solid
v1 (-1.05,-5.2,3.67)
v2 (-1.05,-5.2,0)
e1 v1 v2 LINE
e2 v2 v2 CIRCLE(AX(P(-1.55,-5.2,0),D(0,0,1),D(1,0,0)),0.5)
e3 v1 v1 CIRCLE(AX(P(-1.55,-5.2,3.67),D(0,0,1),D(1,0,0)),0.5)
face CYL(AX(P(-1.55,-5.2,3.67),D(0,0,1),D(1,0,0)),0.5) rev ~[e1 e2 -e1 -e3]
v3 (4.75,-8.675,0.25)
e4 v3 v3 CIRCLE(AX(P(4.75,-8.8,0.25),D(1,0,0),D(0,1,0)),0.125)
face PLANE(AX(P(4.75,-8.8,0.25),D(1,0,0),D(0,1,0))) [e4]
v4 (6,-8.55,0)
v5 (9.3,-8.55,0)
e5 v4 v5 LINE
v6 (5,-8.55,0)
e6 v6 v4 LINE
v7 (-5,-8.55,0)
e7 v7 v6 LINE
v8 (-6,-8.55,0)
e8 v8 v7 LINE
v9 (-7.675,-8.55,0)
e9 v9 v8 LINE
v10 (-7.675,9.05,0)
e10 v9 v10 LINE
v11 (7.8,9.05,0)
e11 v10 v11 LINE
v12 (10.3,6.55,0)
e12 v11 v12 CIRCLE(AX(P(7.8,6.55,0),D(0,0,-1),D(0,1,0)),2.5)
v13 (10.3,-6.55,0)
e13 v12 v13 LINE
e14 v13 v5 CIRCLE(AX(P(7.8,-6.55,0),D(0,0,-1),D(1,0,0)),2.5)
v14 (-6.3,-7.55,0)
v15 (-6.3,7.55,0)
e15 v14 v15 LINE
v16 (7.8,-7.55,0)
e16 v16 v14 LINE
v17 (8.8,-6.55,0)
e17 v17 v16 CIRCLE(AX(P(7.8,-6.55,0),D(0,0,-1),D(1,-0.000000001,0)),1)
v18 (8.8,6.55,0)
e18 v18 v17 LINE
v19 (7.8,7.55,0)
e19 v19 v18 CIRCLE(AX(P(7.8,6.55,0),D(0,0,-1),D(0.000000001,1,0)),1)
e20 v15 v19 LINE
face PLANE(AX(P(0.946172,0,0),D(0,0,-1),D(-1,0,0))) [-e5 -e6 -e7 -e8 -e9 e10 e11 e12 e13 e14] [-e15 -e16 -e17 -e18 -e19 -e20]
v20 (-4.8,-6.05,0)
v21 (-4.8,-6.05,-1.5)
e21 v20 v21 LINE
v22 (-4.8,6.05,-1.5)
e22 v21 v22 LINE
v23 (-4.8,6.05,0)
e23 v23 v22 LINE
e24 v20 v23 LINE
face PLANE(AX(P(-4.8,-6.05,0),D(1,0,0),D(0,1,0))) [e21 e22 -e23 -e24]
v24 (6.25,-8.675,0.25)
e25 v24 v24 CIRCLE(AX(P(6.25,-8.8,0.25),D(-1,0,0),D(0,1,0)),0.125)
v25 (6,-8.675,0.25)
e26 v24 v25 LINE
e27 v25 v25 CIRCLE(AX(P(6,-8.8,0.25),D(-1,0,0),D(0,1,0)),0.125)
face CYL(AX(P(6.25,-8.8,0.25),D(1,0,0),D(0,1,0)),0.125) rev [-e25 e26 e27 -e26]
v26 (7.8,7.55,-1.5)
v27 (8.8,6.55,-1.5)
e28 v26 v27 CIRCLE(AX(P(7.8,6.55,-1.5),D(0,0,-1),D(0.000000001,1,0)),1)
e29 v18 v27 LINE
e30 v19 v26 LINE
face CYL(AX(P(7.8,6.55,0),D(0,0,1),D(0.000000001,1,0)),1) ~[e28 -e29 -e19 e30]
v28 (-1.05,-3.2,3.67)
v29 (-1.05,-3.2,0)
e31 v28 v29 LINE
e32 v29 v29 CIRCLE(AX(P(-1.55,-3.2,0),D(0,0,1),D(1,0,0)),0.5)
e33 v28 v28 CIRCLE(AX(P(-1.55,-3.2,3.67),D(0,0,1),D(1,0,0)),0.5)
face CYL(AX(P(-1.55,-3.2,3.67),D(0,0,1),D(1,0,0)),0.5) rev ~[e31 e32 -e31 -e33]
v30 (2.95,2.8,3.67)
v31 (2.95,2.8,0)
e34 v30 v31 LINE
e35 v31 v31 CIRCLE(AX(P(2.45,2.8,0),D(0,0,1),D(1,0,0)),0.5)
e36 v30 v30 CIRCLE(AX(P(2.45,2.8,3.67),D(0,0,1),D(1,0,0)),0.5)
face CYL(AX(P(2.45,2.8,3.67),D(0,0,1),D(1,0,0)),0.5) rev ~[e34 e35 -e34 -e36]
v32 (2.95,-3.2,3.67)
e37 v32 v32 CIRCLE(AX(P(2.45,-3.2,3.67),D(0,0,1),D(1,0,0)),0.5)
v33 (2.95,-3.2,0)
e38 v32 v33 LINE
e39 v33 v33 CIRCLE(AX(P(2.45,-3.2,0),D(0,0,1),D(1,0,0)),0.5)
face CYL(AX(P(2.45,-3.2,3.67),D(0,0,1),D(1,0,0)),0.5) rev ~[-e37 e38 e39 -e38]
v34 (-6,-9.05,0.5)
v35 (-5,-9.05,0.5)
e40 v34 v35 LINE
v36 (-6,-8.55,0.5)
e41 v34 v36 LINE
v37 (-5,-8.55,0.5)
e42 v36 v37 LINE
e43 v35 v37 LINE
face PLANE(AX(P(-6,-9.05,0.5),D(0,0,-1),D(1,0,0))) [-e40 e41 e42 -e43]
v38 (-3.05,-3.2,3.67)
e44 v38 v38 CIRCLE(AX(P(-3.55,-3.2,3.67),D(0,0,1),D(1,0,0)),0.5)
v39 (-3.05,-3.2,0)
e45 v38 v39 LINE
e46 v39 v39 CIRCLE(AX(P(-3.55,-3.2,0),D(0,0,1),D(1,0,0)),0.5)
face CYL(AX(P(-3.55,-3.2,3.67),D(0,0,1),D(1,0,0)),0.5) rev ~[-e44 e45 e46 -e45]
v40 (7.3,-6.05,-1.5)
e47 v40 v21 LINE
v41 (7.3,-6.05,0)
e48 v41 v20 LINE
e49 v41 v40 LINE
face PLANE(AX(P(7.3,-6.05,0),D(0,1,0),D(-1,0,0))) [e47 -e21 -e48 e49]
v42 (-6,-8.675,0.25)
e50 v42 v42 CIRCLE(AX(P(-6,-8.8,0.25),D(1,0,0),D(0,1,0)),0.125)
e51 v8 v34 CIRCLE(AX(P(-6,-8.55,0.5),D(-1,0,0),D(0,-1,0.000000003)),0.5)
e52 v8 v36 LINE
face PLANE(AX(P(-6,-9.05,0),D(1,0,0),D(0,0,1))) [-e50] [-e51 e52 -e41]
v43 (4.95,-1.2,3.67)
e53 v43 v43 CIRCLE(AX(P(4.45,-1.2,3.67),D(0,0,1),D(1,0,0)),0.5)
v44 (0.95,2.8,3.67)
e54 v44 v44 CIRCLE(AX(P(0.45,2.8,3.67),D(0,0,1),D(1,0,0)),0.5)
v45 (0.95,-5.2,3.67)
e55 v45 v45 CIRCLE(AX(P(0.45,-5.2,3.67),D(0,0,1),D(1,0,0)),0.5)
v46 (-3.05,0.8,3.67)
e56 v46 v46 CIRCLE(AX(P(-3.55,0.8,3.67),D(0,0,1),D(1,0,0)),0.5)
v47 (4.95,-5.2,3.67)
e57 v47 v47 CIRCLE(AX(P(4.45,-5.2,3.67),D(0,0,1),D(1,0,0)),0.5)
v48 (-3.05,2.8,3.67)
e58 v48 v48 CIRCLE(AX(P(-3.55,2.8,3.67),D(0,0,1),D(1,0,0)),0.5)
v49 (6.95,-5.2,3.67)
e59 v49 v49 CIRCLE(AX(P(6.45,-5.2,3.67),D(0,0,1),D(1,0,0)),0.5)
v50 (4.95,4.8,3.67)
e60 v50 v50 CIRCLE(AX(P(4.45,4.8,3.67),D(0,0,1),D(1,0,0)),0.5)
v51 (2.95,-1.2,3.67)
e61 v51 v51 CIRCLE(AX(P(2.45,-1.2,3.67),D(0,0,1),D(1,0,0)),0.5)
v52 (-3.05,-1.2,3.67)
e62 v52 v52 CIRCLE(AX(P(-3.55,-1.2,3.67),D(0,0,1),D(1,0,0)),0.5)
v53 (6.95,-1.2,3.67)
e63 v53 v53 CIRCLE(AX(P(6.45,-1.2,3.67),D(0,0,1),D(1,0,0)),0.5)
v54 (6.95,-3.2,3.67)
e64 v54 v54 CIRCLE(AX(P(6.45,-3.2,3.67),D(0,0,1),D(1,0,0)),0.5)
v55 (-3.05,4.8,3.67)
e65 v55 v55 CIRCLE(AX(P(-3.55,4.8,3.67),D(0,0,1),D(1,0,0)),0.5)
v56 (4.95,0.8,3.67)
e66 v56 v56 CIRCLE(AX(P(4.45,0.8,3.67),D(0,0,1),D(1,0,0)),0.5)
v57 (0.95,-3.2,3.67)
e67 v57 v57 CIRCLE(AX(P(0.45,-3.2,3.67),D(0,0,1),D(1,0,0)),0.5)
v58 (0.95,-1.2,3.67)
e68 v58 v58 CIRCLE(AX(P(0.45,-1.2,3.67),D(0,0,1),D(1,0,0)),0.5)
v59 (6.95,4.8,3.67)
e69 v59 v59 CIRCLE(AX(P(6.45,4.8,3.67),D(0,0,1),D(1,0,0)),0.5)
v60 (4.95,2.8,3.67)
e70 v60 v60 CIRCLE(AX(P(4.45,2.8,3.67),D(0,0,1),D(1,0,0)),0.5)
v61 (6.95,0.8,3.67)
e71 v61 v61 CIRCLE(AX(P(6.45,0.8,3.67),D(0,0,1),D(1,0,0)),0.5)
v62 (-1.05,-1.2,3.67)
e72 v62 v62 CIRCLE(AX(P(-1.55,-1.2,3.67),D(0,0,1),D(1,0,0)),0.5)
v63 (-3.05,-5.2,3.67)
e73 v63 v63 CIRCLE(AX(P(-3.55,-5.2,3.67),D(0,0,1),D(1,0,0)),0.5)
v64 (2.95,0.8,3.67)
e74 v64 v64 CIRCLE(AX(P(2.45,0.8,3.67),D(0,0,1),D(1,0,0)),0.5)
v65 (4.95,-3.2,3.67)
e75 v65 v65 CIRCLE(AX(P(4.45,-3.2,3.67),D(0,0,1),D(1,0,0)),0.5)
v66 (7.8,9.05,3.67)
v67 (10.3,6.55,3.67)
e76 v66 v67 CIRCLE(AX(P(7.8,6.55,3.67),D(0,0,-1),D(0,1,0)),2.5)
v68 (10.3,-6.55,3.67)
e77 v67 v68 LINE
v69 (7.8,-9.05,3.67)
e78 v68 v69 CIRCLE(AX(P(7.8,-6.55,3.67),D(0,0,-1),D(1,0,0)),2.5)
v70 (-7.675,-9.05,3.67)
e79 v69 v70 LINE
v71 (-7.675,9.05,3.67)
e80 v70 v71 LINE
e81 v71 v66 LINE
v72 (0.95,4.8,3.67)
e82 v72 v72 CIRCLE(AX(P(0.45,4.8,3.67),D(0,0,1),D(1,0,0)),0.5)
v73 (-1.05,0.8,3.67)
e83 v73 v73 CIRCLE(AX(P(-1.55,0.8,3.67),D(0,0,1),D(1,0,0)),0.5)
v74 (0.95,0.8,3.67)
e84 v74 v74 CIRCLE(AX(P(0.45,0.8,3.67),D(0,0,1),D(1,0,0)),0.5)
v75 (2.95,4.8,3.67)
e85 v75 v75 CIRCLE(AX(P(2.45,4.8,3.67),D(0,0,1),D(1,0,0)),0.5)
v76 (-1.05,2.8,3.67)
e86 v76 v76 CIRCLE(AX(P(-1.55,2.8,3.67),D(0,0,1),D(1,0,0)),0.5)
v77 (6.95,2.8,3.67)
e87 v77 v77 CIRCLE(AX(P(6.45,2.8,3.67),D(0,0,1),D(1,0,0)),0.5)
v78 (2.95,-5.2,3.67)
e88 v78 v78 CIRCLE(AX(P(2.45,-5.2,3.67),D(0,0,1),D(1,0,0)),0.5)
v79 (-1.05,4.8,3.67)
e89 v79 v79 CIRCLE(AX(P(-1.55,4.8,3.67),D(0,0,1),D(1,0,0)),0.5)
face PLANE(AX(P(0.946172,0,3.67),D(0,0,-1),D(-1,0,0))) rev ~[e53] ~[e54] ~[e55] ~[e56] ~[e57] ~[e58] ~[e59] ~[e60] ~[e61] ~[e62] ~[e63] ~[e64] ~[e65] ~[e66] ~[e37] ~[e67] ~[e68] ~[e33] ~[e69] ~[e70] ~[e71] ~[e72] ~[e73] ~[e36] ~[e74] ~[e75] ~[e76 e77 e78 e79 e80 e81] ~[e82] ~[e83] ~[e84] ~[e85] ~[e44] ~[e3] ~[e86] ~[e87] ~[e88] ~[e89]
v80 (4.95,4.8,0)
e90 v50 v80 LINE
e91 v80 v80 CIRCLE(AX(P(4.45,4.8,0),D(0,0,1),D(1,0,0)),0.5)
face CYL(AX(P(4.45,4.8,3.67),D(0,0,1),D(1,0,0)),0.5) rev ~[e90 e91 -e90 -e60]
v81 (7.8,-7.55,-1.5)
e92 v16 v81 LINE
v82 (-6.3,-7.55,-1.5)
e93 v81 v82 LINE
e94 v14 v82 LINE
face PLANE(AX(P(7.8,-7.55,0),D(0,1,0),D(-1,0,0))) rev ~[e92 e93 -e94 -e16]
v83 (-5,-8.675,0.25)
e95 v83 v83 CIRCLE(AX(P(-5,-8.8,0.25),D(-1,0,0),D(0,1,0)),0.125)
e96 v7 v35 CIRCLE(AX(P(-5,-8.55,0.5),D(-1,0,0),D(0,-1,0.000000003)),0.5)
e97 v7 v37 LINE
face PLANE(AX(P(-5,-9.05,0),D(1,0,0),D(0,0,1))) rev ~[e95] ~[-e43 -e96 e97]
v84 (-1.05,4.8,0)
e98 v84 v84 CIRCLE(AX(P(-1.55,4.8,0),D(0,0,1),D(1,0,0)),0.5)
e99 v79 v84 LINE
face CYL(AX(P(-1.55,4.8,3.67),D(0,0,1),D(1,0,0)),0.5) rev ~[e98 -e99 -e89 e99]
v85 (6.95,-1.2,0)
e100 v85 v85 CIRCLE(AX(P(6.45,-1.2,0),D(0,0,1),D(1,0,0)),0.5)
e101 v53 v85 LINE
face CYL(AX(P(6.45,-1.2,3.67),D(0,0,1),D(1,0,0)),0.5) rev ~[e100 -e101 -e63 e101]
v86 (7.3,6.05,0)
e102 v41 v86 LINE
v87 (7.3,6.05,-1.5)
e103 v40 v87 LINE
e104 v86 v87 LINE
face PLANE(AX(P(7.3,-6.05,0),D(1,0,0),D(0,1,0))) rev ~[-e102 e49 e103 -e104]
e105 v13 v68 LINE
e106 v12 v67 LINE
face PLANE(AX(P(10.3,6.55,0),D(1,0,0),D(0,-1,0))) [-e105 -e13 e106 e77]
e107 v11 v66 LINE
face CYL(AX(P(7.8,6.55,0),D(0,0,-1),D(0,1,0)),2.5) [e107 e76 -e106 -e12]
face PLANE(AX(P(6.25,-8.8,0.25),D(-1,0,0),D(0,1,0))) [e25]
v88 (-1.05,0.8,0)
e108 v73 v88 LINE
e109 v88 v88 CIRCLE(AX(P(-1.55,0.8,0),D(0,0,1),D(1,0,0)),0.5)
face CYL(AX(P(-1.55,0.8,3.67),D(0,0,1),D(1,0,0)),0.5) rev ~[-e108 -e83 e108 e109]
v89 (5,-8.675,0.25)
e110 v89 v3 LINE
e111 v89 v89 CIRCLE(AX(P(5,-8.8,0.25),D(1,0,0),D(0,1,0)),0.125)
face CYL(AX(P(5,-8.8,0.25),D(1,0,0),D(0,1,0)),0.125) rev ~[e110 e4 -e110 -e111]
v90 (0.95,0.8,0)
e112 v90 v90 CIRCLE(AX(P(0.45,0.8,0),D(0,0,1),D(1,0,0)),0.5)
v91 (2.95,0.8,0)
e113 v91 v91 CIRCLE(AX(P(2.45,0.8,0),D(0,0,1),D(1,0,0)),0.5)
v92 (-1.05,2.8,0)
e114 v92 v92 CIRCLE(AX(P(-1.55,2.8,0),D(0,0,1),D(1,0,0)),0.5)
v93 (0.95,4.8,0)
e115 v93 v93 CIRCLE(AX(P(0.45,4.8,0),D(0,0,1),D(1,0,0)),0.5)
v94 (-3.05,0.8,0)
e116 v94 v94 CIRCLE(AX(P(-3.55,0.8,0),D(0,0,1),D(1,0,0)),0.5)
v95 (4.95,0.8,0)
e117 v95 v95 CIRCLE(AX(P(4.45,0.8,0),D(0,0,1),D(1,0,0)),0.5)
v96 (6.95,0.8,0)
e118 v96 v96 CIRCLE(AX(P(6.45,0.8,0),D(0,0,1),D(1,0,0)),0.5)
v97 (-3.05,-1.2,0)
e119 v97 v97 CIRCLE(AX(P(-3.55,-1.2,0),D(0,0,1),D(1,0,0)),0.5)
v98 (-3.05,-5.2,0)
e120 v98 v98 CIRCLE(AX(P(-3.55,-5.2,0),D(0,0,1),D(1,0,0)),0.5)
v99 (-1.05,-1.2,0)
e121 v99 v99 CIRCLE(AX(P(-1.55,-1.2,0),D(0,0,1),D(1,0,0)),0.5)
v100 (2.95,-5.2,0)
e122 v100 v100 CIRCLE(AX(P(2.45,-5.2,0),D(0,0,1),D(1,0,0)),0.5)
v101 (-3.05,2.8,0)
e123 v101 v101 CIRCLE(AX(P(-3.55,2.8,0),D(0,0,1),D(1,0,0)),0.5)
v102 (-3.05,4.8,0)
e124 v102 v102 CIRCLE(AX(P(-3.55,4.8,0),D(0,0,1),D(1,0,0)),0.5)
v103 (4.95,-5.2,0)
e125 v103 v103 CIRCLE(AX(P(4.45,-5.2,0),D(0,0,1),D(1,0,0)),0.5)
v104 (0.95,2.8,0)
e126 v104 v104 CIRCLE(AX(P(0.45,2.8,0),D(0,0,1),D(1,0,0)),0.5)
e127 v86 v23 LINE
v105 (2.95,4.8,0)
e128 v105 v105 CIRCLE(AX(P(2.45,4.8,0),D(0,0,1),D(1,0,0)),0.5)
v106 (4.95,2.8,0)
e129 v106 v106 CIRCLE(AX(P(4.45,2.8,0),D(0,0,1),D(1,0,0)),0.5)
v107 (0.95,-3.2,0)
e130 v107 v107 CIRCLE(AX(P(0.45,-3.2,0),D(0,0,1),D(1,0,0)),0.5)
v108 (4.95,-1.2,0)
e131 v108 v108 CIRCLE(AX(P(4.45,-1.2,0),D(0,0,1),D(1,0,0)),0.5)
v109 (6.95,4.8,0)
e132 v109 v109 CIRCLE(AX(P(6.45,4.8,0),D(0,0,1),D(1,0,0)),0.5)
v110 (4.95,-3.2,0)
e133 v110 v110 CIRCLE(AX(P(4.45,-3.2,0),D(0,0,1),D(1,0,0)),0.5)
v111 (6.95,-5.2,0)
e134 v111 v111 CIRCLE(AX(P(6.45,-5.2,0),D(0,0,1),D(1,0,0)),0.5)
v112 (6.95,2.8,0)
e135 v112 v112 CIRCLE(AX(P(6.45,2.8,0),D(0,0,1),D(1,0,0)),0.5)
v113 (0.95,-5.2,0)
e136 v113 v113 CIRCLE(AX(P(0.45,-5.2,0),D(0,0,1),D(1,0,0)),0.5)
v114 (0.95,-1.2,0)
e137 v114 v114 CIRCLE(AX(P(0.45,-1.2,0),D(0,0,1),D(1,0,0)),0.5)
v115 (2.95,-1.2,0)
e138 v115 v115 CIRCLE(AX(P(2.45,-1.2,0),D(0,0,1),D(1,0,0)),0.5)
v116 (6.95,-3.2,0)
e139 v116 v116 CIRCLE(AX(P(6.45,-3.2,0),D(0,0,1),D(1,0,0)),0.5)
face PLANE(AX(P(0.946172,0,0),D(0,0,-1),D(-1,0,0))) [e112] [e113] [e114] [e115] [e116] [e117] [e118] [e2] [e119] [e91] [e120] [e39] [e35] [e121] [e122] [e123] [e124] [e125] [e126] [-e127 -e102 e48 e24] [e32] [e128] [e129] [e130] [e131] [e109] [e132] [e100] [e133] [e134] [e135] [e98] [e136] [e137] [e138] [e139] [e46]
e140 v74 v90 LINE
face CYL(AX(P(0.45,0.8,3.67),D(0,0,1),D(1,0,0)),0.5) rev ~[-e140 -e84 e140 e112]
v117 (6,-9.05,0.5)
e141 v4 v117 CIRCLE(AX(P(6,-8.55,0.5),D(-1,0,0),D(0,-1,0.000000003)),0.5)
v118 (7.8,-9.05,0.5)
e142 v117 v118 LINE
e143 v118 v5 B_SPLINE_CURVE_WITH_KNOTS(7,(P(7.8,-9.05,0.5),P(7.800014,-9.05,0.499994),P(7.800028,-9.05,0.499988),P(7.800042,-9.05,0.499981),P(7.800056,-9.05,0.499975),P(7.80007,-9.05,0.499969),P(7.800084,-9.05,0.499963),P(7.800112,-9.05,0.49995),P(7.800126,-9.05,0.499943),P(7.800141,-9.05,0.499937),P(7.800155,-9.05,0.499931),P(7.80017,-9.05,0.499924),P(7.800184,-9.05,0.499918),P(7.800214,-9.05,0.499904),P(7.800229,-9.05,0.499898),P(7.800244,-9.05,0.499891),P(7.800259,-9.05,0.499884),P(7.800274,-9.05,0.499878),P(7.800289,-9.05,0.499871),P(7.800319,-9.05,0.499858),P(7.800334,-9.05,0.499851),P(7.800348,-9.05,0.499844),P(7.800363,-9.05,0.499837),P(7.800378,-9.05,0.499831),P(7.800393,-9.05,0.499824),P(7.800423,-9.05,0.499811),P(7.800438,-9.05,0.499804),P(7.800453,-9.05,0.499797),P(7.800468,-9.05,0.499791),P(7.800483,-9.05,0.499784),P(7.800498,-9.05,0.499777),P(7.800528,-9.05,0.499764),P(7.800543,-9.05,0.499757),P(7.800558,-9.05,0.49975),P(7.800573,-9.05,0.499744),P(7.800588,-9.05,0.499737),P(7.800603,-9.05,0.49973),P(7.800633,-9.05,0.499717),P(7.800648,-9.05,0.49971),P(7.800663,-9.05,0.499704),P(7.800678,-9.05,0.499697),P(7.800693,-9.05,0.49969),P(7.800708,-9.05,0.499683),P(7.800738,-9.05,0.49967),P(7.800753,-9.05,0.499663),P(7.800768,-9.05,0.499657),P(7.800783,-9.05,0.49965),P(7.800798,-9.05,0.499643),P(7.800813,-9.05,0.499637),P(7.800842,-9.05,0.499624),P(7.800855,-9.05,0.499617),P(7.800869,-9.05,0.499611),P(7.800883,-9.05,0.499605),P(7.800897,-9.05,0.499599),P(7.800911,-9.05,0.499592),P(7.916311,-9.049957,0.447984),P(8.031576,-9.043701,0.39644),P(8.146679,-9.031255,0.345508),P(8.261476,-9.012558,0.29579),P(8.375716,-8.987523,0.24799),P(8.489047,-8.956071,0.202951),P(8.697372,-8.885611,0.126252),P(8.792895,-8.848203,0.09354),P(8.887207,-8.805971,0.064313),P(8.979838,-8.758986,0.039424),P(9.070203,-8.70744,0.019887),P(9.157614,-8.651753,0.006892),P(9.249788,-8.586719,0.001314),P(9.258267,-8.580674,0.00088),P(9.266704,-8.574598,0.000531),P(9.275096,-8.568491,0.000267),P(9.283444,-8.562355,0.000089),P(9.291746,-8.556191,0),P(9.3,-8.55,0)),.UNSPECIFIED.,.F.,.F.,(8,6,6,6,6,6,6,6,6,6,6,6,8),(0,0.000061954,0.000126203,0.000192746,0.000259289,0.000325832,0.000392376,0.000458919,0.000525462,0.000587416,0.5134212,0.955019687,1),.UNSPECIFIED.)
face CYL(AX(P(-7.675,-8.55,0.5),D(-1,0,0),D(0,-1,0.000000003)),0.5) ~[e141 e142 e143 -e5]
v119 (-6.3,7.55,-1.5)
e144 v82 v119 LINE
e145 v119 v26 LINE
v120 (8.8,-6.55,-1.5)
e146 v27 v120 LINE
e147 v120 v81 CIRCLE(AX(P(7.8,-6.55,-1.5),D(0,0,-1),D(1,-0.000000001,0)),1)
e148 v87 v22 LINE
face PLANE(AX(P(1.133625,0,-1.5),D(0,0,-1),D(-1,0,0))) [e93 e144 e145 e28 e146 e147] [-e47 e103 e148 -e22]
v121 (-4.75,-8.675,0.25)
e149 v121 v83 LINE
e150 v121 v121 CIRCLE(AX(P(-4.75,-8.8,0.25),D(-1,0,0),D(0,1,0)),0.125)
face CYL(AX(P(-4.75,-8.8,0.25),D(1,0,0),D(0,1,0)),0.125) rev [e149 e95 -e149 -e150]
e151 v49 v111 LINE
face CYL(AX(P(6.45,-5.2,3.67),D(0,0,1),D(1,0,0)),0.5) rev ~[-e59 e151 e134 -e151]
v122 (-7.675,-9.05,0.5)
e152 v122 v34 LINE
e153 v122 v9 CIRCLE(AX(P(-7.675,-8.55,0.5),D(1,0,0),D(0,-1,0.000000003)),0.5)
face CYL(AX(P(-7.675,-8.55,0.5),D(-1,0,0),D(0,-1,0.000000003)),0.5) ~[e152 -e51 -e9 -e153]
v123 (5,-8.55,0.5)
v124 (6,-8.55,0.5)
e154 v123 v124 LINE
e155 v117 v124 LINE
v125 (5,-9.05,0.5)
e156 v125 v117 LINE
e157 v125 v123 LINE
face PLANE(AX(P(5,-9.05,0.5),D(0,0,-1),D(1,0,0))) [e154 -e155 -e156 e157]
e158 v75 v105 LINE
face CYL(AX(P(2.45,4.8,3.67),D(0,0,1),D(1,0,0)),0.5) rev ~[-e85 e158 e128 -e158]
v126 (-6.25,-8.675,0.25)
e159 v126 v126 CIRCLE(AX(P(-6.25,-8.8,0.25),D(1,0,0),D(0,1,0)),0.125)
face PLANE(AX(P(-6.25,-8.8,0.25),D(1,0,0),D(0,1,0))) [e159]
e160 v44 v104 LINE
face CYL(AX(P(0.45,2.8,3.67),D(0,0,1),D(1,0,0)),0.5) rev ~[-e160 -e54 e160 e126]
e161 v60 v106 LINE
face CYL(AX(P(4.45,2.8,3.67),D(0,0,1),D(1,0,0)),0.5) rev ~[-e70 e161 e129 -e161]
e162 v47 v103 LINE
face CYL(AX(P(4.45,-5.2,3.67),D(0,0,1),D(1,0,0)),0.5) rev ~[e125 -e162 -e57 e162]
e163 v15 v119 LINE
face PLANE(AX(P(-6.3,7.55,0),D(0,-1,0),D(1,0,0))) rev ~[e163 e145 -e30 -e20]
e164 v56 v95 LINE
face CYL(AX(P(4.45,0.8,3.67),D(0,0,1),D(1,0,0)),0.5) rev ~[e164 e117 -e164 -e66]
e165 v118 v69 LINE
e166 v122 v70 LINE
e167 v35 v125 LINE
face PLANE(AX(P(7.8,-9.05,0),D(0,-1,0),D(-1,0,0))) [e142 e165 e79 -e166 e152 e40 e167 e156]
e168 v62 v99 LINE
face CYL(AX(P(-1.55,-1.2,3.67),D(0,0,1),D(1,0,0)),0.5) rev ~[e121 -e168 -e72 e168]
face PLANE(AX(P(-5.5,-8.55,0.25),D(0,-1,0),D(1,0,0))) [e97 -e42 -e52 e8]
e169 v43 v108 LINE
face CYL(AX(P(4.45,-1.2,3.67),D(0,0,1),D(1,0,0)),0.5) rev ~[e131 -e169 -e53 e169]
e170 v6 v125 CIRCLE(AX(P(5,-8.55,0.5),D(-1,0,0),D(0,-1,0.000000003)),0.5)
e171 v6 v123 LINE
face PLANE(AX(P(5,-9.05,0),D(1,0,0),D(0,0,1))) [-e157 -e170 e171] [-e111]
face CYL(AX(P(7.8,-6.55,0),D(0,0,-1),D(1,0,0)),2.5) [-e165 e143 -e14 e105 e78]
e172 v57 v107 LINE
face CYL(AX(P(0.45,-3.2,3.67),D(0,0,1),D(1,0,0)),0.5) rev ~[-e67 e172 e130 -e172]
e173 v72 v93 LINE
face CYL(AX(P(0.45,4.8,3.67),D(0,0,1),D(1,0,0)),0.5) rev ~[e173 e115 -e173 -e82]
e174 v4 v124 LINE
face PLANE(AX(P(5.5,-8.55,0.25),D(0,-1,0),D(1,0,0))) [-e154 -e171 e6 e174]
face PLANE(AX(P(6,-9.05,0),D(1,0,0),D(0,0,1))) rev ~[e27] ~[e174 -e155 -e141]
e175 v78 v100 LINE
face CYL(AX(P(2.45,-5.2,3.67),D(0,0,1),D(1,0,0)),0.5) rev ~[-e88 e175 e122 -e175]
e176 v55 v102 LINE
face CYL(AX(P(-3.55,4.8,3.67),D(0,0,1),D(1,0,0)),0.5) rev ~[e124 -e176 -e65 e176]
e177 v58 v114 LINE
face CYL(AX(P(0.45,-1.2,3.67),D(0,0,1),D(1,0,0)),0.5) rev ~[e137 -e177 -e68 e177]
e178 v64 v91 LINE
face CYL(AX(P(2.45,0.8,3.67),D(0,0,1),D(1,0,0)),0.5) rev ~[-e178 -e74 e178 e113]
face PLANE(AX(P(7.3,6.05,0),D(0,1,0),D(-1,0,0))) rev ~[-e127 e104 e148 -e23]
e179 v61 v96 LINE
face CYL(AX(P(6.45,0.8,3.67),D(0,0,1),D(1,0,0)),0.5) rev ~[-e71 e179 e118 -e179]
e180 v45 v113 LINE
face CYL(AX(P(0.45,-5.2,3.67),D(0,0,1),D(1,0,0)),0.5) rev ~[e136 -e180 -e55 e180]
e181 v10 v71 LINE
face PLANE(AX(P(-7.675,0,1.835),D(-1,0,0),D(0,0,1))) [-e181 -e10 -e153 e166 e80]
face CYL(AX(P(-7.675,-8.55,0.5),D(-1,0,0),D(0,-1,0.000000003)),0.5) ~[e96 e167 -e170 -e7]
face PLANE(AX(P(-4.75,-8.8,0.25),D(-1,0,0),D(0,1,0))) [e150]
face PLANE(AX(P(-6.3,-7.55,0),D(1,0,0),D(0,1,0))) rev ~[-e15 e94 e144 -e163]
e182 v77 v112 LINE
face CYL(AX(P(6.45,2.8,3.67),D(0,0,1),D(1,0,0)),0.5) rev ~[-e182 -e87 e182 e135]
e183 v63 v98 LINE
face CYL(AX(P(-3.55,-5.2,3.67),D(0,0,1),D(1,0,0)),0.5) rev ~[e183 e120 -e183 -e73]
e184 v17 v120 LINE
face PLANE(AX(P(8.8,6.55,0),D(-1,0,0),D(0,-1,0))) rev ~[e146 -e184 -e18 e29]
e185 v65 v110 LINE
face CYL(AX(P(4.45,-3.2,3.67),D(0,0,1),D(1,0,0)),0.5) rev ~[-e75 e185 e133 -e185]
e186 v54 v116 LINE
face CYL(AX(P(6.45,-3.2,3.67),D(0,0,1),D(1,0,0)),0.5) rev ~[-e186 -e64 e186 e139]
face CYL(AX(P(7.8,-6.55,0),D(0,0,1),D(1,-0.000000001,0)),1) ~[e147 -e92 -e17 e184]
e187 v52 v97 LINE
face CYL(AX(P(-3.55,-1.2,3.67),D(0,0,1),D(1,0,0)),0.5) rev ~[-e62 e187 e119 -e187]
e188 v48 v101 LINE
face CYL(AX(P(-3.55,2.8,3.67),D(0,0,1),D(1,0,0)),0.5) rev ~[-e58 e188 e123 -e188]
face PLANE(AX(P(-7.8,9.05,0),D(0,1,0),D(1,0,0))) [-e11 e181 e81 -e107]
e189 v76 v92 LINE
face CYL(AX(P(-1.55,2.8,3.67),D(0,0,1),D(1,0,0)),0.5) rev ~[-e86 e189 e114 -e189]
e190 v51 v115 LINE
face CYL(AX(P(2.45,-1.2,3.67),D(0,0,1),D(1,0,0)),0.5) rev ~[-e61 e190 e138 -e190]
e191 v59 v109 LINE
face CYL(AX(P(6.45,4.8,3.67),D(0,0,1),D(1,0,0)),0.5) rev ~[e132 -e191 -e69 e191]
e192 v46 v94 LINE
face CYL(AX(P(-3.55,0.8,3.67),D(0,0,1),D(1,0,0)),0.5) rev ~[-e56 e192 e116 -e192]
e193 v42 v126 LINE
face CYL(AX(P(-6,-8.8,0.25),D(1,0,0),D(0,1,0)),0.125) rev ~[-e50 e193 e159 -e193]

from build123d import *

# Parameters (mm, degrees)
BOSS_EXTRUDE1_DEPTH = 3.67
SKETCH6_R           = 0.5
CUT_EXTRUDE1_DEPTH  = 3.67
SKETCH20_W          = 12.1
SKETCH20_H          = 12.1
BOSS_EXTRUDE4_DEPTH = 1.5
SKETCH13_W          = 1
SKETCH13_H          = 0.5
CUT_EXTRUDE7_DEPTH  = 0.5
SKETCH14_R          = 0.125
CUT_EXTRUDE8_DEPTH  = 0.25
CUT_EXTRUDE9_START  = -0.25
SKETCH15_R          = 0.125
CUT_EXTRUDE9_DEPTH  = 0.25
CUT_EXTRUDE10_START = -0.25
SKETCH16_R          = 0.125
CUT_EXTRUDE10_DEPTH = 0.25
SKETCH17_R          = 0.125
CUT_EXTRUDE11_DEPTH = 0.25
SKETCH19_W          = 3.67
SKETCH19_H          = 18.1
CUT_EXTRUDE13_DEPTH = 0.125
CUT_EXTRUDE14_REACH = 22.457


with BuildPart() as part:
    # Sketch1 → Boss-Extrude1 (new body)
    with BuildSketch(Plane.XY):
        with BuildLine():
            Line((-7.8, 9.05), (7.8, 9.05))
            ThreePointArc((7.8, 9.05), (9.567766953, 8.317766953), (10.3, 6.55))
            Line((10.3, 6.55), (10.3, -6.55))
            ThreePointArc((10.3, -6.55), (9.567766953, -8.317766953), (7.8, -9.05))
            Line((7.8, -9.05), (-7.8, -9.05))
            Line((-7.8, -9.05), (-7.8, 9.05))
        make_face()
    extrude(amount=BOSS_EXTRUDE1_DEPTH)

    # Sketch6 → Cut-Extrude1 (cut)
    with BuildSketch(Plane.XY.offset(3.67)):
        with Locations((-3.55, 4.8)):
            Circle(SKETCH6_R)
        with Locations((-1.55, 4.8)):
            Circle(SKETCH6_R)
        with Locations((0.45, 4.8)):
            Circle(SKETCH6_R)
        with Locations((2.45, 4.8)):
            Circle(SKETCH6_R)
        with Locations((4.45, 4.8)):
            Circle(SKETCH6_R)
        with Locations((6.45, 4.8)):
            Circle(SKETCH6_R)
        with Locations((-1.55, 2.8)):
            Circle(SKETCH6_R)
        with Locations((0.45, 2.8)):
            Circle(SKETCH6_R)
        with Locations((2.45, 2.8)):
            Circle(SKETCH6_R)
        with Locations((4.45, 2.8)):
            Circle(SKETCH6_R)
        with Locations((6.45, 2.8)):
            Circle(SKETCH6_R)
        with Locations((-1.55, 0.8)):
            Circle(SKETCH6_R)
        with Locations((0.45, 0.8)):
            Circle(SKETCH6_R)
        with Locations((2.45, 0.8)):
            Circle(SKETCH6_R)
        with Locations((4.45, 0.8)):
            Circle(SKETCH6_R)
        with Locations((6.45, 0.8)):
            Circle(SKETCH6_R)
        with Locations((-1.55, -1.2)):
            Circle(SKETCH6_R)
        with Locations((0.45, -1.2)):
            Circle(SKETCH6_R)
        with Locations((2.45, -1.2)):
            Circle(SKETCH6_R)
        with Locations((4.45, -1.2)):
            Circle(SKETCH6_R)
        with Locations((6.45, -1.2)):
            Circle(SKETCH6_R)
        with Locations((-1.55, -3.2)):
            Circle(SKETCH6_R)
        with Locations((0.45, -3.2)):
            Circle(SKETCH6_R)
        with Locations((2.45, -3.2)):
            Circle(SKETCH6_R)
        with Locations((4.45, -3.2)):
            Circle(SKETCH6_R)
        with Locations((6.45, -3.2)):
            Circle(SKETCH6_R)
        with Locations((-1.55, -5.2)):
            Circle(SKETCH6_R)
        with Locations((0.45, -5.2)):
            Circle(SKETCH6_R)
        with Locations((2.45, -5.2)):
            Circle(SKETCH6_R)
        with Locations((4.45, -5.2)):
            Circle(SKETCH6_R)
        with Locations((6.45, -5.2)):
            Circle(SKETCH6_R)
        with Locations((-3.55, 2.8)):
            Circle(SKETCH6_R)
        with Locations((-3.55, 0.8)):
            Circle(SKETCH6_R)
        with Locations((-3.55, -1.2)):
            Circle(SKETCH6_R)
        with Locations((-3.55, -3.2)):
            Circle(SKETCH6_R)
        with Locations((-3.55, -5.2)):
            Circle(SKETCH6_R)
    extrude(amount=-CUT_EXTRUDE1_DEPTH, mode=Mode.SUBTRACT)

    # Sketch20 → Boss-Extrude4 (add)
    with BuildSketch(Plane(origin=(0, 0, 0), x_dir=(-1, 0, 0), z_dir=(0, 0, -1))):
        with BuildLine():
            Line((6.3, -7.55), (6.3, 7.55))
            Line((6.3, 7.55), (-7.8, 7.55))
            ThreePointArc((-7.8, 7.55), (-8.507106781, 7.257106781), (-8.8, 6.55))
            Line((-8.8, 6.55), (-8.8, -6.55))
            ThreePointArc((-8.8, -6.55), (-8.507106781, -7.257106781), (-7.8, -7.55))
            Line((-7.8, -7.55), (6.3, -7.55))
        make_face()
        with Locations((-1.25, 0)):
            Rectangle(SKETCH20_W, SKETCH20_H, mode=Mode.SUBTRACT)
    extrude(amount=BOSS_EXTRUDE4_DEPTH)

    # Sketch13 → Cut-Extrude7 (cut)
    with BuildSketch(Plane.XZ.offset(9.05)):
        with Locations((-5.5, 0.25)):
            Rectangle(SKETCH13_W, SKETCH13_H)
        with Locations((5.5, 0.25)):
            Rectangle(SKETCH13_W, SKETCH13_H)
    extrude(amount=-CUT_EXTRUDE7_DEPTH, mode=Mode.SUBTRACT)

    # Sketch14 → Cut-Extrude8 (cut)
    with BuildSketch(Plane(origin=(-6, 0, 0), x_dir=(0, 0, -1), z_dir=(1, 0, 0))):
        with Locations(Location((-0.25, -8.8, 0), (0, 0, 90))):
            Circle(SKETCH14_R)
    extrude(amount=-CUT_EXTRUDE8_DEPTH, mode=Mode.SUBTRACT)

    # Sketch15 → Cut-Extrude9 (cut)
    with BuildSketch(Plane.ZY.offset(5).offset(CUT_EXTRUDE9_START)):
        with Locations(Location((0.25, -8.8, 0), (0, 0, 90))):
            Circle(SKETCH15_R)
    extrude(amount=CUT_EXTRUDE9_DEPTH, mode=Mode.SUBTRACT)

    # Sketch16 → Cut-Extrude10 (cut)
    with BuildSketch(Plane.ZY.offset(-6).offset(CUT_EXTRUDE10_START)):
        with Locations(Location((0.25, -8.8, 0), (0, 0, 90))):
            Circle(SKETCH16_R)
    extrude(amount=CUT_EXTRUDE10_DEPTH, mode=Mode.SUBTRACT)

    # Sketch17 → Cut-Extrude11 (cut)
    with BuildSketch(Plane(origin=(5, 0, 0), x_dir=(0, 0, -1), z_dir=(1, 0, 0))):
        with Locations(Location((-0.25, -8.8, 0), (0, 0, 90))):
            Circle(SKETCH17_R)
    extrude(amount=-CUT_EXTRUDE11_DEPTH, mode=Mode.SUBTRACT)

    # Sketch19 → Cut-Extrude13 (cut)
    with BuildSketch(Plane.ZY.offset(7.8)):
        with Locations((1.835, 0)):
            Rectangle(SKETCH19_W, SKETCH19_H)
    extrude(amount=-CUT_EXTRUDE13_DEPTH, mode=Mode.SUBTRACT)

    # Sketch21 → Cut-Extrude14 (cut, up to next)
    with BuildSketch(Plane.ZY.offset(7.675), mode=Mode.PRIVATE) as cut_extrude14_sk1:
        with BuildLine():
            Line((0, -8.55), (0, -9.05))
            Line((0, -9.05), (0.5, -9.05))
            ThreePointArc((0.5, -9.05), (0.146446609, -8.903553391), (0, -8.55))
        make_face()
    cut_extrude14_tool1 = extrude(cut_extrude14_sk1.sketch, amount=-CUT_EXTRUDE14_REACH, mode=Mode.PRIVATE) & part.part
    add(cut_extrude14_tool1.solids().sort_by_distance((-7.675, -8.938316, 0.111684))[0], mode=Mode.SUBTRACT)
    add(cut_extrude14_tool1.solids().sort_by_distance((-7.675, -8.938316, 0.111684))[1], mode=Mode.SUBTRACT)
    add(cut_extrude14_tool1.solids().sort_by_distance((-7.675, -8.938316, 0.111684))[2], mode=Mode.SUBTRACT)


solid = part.part
